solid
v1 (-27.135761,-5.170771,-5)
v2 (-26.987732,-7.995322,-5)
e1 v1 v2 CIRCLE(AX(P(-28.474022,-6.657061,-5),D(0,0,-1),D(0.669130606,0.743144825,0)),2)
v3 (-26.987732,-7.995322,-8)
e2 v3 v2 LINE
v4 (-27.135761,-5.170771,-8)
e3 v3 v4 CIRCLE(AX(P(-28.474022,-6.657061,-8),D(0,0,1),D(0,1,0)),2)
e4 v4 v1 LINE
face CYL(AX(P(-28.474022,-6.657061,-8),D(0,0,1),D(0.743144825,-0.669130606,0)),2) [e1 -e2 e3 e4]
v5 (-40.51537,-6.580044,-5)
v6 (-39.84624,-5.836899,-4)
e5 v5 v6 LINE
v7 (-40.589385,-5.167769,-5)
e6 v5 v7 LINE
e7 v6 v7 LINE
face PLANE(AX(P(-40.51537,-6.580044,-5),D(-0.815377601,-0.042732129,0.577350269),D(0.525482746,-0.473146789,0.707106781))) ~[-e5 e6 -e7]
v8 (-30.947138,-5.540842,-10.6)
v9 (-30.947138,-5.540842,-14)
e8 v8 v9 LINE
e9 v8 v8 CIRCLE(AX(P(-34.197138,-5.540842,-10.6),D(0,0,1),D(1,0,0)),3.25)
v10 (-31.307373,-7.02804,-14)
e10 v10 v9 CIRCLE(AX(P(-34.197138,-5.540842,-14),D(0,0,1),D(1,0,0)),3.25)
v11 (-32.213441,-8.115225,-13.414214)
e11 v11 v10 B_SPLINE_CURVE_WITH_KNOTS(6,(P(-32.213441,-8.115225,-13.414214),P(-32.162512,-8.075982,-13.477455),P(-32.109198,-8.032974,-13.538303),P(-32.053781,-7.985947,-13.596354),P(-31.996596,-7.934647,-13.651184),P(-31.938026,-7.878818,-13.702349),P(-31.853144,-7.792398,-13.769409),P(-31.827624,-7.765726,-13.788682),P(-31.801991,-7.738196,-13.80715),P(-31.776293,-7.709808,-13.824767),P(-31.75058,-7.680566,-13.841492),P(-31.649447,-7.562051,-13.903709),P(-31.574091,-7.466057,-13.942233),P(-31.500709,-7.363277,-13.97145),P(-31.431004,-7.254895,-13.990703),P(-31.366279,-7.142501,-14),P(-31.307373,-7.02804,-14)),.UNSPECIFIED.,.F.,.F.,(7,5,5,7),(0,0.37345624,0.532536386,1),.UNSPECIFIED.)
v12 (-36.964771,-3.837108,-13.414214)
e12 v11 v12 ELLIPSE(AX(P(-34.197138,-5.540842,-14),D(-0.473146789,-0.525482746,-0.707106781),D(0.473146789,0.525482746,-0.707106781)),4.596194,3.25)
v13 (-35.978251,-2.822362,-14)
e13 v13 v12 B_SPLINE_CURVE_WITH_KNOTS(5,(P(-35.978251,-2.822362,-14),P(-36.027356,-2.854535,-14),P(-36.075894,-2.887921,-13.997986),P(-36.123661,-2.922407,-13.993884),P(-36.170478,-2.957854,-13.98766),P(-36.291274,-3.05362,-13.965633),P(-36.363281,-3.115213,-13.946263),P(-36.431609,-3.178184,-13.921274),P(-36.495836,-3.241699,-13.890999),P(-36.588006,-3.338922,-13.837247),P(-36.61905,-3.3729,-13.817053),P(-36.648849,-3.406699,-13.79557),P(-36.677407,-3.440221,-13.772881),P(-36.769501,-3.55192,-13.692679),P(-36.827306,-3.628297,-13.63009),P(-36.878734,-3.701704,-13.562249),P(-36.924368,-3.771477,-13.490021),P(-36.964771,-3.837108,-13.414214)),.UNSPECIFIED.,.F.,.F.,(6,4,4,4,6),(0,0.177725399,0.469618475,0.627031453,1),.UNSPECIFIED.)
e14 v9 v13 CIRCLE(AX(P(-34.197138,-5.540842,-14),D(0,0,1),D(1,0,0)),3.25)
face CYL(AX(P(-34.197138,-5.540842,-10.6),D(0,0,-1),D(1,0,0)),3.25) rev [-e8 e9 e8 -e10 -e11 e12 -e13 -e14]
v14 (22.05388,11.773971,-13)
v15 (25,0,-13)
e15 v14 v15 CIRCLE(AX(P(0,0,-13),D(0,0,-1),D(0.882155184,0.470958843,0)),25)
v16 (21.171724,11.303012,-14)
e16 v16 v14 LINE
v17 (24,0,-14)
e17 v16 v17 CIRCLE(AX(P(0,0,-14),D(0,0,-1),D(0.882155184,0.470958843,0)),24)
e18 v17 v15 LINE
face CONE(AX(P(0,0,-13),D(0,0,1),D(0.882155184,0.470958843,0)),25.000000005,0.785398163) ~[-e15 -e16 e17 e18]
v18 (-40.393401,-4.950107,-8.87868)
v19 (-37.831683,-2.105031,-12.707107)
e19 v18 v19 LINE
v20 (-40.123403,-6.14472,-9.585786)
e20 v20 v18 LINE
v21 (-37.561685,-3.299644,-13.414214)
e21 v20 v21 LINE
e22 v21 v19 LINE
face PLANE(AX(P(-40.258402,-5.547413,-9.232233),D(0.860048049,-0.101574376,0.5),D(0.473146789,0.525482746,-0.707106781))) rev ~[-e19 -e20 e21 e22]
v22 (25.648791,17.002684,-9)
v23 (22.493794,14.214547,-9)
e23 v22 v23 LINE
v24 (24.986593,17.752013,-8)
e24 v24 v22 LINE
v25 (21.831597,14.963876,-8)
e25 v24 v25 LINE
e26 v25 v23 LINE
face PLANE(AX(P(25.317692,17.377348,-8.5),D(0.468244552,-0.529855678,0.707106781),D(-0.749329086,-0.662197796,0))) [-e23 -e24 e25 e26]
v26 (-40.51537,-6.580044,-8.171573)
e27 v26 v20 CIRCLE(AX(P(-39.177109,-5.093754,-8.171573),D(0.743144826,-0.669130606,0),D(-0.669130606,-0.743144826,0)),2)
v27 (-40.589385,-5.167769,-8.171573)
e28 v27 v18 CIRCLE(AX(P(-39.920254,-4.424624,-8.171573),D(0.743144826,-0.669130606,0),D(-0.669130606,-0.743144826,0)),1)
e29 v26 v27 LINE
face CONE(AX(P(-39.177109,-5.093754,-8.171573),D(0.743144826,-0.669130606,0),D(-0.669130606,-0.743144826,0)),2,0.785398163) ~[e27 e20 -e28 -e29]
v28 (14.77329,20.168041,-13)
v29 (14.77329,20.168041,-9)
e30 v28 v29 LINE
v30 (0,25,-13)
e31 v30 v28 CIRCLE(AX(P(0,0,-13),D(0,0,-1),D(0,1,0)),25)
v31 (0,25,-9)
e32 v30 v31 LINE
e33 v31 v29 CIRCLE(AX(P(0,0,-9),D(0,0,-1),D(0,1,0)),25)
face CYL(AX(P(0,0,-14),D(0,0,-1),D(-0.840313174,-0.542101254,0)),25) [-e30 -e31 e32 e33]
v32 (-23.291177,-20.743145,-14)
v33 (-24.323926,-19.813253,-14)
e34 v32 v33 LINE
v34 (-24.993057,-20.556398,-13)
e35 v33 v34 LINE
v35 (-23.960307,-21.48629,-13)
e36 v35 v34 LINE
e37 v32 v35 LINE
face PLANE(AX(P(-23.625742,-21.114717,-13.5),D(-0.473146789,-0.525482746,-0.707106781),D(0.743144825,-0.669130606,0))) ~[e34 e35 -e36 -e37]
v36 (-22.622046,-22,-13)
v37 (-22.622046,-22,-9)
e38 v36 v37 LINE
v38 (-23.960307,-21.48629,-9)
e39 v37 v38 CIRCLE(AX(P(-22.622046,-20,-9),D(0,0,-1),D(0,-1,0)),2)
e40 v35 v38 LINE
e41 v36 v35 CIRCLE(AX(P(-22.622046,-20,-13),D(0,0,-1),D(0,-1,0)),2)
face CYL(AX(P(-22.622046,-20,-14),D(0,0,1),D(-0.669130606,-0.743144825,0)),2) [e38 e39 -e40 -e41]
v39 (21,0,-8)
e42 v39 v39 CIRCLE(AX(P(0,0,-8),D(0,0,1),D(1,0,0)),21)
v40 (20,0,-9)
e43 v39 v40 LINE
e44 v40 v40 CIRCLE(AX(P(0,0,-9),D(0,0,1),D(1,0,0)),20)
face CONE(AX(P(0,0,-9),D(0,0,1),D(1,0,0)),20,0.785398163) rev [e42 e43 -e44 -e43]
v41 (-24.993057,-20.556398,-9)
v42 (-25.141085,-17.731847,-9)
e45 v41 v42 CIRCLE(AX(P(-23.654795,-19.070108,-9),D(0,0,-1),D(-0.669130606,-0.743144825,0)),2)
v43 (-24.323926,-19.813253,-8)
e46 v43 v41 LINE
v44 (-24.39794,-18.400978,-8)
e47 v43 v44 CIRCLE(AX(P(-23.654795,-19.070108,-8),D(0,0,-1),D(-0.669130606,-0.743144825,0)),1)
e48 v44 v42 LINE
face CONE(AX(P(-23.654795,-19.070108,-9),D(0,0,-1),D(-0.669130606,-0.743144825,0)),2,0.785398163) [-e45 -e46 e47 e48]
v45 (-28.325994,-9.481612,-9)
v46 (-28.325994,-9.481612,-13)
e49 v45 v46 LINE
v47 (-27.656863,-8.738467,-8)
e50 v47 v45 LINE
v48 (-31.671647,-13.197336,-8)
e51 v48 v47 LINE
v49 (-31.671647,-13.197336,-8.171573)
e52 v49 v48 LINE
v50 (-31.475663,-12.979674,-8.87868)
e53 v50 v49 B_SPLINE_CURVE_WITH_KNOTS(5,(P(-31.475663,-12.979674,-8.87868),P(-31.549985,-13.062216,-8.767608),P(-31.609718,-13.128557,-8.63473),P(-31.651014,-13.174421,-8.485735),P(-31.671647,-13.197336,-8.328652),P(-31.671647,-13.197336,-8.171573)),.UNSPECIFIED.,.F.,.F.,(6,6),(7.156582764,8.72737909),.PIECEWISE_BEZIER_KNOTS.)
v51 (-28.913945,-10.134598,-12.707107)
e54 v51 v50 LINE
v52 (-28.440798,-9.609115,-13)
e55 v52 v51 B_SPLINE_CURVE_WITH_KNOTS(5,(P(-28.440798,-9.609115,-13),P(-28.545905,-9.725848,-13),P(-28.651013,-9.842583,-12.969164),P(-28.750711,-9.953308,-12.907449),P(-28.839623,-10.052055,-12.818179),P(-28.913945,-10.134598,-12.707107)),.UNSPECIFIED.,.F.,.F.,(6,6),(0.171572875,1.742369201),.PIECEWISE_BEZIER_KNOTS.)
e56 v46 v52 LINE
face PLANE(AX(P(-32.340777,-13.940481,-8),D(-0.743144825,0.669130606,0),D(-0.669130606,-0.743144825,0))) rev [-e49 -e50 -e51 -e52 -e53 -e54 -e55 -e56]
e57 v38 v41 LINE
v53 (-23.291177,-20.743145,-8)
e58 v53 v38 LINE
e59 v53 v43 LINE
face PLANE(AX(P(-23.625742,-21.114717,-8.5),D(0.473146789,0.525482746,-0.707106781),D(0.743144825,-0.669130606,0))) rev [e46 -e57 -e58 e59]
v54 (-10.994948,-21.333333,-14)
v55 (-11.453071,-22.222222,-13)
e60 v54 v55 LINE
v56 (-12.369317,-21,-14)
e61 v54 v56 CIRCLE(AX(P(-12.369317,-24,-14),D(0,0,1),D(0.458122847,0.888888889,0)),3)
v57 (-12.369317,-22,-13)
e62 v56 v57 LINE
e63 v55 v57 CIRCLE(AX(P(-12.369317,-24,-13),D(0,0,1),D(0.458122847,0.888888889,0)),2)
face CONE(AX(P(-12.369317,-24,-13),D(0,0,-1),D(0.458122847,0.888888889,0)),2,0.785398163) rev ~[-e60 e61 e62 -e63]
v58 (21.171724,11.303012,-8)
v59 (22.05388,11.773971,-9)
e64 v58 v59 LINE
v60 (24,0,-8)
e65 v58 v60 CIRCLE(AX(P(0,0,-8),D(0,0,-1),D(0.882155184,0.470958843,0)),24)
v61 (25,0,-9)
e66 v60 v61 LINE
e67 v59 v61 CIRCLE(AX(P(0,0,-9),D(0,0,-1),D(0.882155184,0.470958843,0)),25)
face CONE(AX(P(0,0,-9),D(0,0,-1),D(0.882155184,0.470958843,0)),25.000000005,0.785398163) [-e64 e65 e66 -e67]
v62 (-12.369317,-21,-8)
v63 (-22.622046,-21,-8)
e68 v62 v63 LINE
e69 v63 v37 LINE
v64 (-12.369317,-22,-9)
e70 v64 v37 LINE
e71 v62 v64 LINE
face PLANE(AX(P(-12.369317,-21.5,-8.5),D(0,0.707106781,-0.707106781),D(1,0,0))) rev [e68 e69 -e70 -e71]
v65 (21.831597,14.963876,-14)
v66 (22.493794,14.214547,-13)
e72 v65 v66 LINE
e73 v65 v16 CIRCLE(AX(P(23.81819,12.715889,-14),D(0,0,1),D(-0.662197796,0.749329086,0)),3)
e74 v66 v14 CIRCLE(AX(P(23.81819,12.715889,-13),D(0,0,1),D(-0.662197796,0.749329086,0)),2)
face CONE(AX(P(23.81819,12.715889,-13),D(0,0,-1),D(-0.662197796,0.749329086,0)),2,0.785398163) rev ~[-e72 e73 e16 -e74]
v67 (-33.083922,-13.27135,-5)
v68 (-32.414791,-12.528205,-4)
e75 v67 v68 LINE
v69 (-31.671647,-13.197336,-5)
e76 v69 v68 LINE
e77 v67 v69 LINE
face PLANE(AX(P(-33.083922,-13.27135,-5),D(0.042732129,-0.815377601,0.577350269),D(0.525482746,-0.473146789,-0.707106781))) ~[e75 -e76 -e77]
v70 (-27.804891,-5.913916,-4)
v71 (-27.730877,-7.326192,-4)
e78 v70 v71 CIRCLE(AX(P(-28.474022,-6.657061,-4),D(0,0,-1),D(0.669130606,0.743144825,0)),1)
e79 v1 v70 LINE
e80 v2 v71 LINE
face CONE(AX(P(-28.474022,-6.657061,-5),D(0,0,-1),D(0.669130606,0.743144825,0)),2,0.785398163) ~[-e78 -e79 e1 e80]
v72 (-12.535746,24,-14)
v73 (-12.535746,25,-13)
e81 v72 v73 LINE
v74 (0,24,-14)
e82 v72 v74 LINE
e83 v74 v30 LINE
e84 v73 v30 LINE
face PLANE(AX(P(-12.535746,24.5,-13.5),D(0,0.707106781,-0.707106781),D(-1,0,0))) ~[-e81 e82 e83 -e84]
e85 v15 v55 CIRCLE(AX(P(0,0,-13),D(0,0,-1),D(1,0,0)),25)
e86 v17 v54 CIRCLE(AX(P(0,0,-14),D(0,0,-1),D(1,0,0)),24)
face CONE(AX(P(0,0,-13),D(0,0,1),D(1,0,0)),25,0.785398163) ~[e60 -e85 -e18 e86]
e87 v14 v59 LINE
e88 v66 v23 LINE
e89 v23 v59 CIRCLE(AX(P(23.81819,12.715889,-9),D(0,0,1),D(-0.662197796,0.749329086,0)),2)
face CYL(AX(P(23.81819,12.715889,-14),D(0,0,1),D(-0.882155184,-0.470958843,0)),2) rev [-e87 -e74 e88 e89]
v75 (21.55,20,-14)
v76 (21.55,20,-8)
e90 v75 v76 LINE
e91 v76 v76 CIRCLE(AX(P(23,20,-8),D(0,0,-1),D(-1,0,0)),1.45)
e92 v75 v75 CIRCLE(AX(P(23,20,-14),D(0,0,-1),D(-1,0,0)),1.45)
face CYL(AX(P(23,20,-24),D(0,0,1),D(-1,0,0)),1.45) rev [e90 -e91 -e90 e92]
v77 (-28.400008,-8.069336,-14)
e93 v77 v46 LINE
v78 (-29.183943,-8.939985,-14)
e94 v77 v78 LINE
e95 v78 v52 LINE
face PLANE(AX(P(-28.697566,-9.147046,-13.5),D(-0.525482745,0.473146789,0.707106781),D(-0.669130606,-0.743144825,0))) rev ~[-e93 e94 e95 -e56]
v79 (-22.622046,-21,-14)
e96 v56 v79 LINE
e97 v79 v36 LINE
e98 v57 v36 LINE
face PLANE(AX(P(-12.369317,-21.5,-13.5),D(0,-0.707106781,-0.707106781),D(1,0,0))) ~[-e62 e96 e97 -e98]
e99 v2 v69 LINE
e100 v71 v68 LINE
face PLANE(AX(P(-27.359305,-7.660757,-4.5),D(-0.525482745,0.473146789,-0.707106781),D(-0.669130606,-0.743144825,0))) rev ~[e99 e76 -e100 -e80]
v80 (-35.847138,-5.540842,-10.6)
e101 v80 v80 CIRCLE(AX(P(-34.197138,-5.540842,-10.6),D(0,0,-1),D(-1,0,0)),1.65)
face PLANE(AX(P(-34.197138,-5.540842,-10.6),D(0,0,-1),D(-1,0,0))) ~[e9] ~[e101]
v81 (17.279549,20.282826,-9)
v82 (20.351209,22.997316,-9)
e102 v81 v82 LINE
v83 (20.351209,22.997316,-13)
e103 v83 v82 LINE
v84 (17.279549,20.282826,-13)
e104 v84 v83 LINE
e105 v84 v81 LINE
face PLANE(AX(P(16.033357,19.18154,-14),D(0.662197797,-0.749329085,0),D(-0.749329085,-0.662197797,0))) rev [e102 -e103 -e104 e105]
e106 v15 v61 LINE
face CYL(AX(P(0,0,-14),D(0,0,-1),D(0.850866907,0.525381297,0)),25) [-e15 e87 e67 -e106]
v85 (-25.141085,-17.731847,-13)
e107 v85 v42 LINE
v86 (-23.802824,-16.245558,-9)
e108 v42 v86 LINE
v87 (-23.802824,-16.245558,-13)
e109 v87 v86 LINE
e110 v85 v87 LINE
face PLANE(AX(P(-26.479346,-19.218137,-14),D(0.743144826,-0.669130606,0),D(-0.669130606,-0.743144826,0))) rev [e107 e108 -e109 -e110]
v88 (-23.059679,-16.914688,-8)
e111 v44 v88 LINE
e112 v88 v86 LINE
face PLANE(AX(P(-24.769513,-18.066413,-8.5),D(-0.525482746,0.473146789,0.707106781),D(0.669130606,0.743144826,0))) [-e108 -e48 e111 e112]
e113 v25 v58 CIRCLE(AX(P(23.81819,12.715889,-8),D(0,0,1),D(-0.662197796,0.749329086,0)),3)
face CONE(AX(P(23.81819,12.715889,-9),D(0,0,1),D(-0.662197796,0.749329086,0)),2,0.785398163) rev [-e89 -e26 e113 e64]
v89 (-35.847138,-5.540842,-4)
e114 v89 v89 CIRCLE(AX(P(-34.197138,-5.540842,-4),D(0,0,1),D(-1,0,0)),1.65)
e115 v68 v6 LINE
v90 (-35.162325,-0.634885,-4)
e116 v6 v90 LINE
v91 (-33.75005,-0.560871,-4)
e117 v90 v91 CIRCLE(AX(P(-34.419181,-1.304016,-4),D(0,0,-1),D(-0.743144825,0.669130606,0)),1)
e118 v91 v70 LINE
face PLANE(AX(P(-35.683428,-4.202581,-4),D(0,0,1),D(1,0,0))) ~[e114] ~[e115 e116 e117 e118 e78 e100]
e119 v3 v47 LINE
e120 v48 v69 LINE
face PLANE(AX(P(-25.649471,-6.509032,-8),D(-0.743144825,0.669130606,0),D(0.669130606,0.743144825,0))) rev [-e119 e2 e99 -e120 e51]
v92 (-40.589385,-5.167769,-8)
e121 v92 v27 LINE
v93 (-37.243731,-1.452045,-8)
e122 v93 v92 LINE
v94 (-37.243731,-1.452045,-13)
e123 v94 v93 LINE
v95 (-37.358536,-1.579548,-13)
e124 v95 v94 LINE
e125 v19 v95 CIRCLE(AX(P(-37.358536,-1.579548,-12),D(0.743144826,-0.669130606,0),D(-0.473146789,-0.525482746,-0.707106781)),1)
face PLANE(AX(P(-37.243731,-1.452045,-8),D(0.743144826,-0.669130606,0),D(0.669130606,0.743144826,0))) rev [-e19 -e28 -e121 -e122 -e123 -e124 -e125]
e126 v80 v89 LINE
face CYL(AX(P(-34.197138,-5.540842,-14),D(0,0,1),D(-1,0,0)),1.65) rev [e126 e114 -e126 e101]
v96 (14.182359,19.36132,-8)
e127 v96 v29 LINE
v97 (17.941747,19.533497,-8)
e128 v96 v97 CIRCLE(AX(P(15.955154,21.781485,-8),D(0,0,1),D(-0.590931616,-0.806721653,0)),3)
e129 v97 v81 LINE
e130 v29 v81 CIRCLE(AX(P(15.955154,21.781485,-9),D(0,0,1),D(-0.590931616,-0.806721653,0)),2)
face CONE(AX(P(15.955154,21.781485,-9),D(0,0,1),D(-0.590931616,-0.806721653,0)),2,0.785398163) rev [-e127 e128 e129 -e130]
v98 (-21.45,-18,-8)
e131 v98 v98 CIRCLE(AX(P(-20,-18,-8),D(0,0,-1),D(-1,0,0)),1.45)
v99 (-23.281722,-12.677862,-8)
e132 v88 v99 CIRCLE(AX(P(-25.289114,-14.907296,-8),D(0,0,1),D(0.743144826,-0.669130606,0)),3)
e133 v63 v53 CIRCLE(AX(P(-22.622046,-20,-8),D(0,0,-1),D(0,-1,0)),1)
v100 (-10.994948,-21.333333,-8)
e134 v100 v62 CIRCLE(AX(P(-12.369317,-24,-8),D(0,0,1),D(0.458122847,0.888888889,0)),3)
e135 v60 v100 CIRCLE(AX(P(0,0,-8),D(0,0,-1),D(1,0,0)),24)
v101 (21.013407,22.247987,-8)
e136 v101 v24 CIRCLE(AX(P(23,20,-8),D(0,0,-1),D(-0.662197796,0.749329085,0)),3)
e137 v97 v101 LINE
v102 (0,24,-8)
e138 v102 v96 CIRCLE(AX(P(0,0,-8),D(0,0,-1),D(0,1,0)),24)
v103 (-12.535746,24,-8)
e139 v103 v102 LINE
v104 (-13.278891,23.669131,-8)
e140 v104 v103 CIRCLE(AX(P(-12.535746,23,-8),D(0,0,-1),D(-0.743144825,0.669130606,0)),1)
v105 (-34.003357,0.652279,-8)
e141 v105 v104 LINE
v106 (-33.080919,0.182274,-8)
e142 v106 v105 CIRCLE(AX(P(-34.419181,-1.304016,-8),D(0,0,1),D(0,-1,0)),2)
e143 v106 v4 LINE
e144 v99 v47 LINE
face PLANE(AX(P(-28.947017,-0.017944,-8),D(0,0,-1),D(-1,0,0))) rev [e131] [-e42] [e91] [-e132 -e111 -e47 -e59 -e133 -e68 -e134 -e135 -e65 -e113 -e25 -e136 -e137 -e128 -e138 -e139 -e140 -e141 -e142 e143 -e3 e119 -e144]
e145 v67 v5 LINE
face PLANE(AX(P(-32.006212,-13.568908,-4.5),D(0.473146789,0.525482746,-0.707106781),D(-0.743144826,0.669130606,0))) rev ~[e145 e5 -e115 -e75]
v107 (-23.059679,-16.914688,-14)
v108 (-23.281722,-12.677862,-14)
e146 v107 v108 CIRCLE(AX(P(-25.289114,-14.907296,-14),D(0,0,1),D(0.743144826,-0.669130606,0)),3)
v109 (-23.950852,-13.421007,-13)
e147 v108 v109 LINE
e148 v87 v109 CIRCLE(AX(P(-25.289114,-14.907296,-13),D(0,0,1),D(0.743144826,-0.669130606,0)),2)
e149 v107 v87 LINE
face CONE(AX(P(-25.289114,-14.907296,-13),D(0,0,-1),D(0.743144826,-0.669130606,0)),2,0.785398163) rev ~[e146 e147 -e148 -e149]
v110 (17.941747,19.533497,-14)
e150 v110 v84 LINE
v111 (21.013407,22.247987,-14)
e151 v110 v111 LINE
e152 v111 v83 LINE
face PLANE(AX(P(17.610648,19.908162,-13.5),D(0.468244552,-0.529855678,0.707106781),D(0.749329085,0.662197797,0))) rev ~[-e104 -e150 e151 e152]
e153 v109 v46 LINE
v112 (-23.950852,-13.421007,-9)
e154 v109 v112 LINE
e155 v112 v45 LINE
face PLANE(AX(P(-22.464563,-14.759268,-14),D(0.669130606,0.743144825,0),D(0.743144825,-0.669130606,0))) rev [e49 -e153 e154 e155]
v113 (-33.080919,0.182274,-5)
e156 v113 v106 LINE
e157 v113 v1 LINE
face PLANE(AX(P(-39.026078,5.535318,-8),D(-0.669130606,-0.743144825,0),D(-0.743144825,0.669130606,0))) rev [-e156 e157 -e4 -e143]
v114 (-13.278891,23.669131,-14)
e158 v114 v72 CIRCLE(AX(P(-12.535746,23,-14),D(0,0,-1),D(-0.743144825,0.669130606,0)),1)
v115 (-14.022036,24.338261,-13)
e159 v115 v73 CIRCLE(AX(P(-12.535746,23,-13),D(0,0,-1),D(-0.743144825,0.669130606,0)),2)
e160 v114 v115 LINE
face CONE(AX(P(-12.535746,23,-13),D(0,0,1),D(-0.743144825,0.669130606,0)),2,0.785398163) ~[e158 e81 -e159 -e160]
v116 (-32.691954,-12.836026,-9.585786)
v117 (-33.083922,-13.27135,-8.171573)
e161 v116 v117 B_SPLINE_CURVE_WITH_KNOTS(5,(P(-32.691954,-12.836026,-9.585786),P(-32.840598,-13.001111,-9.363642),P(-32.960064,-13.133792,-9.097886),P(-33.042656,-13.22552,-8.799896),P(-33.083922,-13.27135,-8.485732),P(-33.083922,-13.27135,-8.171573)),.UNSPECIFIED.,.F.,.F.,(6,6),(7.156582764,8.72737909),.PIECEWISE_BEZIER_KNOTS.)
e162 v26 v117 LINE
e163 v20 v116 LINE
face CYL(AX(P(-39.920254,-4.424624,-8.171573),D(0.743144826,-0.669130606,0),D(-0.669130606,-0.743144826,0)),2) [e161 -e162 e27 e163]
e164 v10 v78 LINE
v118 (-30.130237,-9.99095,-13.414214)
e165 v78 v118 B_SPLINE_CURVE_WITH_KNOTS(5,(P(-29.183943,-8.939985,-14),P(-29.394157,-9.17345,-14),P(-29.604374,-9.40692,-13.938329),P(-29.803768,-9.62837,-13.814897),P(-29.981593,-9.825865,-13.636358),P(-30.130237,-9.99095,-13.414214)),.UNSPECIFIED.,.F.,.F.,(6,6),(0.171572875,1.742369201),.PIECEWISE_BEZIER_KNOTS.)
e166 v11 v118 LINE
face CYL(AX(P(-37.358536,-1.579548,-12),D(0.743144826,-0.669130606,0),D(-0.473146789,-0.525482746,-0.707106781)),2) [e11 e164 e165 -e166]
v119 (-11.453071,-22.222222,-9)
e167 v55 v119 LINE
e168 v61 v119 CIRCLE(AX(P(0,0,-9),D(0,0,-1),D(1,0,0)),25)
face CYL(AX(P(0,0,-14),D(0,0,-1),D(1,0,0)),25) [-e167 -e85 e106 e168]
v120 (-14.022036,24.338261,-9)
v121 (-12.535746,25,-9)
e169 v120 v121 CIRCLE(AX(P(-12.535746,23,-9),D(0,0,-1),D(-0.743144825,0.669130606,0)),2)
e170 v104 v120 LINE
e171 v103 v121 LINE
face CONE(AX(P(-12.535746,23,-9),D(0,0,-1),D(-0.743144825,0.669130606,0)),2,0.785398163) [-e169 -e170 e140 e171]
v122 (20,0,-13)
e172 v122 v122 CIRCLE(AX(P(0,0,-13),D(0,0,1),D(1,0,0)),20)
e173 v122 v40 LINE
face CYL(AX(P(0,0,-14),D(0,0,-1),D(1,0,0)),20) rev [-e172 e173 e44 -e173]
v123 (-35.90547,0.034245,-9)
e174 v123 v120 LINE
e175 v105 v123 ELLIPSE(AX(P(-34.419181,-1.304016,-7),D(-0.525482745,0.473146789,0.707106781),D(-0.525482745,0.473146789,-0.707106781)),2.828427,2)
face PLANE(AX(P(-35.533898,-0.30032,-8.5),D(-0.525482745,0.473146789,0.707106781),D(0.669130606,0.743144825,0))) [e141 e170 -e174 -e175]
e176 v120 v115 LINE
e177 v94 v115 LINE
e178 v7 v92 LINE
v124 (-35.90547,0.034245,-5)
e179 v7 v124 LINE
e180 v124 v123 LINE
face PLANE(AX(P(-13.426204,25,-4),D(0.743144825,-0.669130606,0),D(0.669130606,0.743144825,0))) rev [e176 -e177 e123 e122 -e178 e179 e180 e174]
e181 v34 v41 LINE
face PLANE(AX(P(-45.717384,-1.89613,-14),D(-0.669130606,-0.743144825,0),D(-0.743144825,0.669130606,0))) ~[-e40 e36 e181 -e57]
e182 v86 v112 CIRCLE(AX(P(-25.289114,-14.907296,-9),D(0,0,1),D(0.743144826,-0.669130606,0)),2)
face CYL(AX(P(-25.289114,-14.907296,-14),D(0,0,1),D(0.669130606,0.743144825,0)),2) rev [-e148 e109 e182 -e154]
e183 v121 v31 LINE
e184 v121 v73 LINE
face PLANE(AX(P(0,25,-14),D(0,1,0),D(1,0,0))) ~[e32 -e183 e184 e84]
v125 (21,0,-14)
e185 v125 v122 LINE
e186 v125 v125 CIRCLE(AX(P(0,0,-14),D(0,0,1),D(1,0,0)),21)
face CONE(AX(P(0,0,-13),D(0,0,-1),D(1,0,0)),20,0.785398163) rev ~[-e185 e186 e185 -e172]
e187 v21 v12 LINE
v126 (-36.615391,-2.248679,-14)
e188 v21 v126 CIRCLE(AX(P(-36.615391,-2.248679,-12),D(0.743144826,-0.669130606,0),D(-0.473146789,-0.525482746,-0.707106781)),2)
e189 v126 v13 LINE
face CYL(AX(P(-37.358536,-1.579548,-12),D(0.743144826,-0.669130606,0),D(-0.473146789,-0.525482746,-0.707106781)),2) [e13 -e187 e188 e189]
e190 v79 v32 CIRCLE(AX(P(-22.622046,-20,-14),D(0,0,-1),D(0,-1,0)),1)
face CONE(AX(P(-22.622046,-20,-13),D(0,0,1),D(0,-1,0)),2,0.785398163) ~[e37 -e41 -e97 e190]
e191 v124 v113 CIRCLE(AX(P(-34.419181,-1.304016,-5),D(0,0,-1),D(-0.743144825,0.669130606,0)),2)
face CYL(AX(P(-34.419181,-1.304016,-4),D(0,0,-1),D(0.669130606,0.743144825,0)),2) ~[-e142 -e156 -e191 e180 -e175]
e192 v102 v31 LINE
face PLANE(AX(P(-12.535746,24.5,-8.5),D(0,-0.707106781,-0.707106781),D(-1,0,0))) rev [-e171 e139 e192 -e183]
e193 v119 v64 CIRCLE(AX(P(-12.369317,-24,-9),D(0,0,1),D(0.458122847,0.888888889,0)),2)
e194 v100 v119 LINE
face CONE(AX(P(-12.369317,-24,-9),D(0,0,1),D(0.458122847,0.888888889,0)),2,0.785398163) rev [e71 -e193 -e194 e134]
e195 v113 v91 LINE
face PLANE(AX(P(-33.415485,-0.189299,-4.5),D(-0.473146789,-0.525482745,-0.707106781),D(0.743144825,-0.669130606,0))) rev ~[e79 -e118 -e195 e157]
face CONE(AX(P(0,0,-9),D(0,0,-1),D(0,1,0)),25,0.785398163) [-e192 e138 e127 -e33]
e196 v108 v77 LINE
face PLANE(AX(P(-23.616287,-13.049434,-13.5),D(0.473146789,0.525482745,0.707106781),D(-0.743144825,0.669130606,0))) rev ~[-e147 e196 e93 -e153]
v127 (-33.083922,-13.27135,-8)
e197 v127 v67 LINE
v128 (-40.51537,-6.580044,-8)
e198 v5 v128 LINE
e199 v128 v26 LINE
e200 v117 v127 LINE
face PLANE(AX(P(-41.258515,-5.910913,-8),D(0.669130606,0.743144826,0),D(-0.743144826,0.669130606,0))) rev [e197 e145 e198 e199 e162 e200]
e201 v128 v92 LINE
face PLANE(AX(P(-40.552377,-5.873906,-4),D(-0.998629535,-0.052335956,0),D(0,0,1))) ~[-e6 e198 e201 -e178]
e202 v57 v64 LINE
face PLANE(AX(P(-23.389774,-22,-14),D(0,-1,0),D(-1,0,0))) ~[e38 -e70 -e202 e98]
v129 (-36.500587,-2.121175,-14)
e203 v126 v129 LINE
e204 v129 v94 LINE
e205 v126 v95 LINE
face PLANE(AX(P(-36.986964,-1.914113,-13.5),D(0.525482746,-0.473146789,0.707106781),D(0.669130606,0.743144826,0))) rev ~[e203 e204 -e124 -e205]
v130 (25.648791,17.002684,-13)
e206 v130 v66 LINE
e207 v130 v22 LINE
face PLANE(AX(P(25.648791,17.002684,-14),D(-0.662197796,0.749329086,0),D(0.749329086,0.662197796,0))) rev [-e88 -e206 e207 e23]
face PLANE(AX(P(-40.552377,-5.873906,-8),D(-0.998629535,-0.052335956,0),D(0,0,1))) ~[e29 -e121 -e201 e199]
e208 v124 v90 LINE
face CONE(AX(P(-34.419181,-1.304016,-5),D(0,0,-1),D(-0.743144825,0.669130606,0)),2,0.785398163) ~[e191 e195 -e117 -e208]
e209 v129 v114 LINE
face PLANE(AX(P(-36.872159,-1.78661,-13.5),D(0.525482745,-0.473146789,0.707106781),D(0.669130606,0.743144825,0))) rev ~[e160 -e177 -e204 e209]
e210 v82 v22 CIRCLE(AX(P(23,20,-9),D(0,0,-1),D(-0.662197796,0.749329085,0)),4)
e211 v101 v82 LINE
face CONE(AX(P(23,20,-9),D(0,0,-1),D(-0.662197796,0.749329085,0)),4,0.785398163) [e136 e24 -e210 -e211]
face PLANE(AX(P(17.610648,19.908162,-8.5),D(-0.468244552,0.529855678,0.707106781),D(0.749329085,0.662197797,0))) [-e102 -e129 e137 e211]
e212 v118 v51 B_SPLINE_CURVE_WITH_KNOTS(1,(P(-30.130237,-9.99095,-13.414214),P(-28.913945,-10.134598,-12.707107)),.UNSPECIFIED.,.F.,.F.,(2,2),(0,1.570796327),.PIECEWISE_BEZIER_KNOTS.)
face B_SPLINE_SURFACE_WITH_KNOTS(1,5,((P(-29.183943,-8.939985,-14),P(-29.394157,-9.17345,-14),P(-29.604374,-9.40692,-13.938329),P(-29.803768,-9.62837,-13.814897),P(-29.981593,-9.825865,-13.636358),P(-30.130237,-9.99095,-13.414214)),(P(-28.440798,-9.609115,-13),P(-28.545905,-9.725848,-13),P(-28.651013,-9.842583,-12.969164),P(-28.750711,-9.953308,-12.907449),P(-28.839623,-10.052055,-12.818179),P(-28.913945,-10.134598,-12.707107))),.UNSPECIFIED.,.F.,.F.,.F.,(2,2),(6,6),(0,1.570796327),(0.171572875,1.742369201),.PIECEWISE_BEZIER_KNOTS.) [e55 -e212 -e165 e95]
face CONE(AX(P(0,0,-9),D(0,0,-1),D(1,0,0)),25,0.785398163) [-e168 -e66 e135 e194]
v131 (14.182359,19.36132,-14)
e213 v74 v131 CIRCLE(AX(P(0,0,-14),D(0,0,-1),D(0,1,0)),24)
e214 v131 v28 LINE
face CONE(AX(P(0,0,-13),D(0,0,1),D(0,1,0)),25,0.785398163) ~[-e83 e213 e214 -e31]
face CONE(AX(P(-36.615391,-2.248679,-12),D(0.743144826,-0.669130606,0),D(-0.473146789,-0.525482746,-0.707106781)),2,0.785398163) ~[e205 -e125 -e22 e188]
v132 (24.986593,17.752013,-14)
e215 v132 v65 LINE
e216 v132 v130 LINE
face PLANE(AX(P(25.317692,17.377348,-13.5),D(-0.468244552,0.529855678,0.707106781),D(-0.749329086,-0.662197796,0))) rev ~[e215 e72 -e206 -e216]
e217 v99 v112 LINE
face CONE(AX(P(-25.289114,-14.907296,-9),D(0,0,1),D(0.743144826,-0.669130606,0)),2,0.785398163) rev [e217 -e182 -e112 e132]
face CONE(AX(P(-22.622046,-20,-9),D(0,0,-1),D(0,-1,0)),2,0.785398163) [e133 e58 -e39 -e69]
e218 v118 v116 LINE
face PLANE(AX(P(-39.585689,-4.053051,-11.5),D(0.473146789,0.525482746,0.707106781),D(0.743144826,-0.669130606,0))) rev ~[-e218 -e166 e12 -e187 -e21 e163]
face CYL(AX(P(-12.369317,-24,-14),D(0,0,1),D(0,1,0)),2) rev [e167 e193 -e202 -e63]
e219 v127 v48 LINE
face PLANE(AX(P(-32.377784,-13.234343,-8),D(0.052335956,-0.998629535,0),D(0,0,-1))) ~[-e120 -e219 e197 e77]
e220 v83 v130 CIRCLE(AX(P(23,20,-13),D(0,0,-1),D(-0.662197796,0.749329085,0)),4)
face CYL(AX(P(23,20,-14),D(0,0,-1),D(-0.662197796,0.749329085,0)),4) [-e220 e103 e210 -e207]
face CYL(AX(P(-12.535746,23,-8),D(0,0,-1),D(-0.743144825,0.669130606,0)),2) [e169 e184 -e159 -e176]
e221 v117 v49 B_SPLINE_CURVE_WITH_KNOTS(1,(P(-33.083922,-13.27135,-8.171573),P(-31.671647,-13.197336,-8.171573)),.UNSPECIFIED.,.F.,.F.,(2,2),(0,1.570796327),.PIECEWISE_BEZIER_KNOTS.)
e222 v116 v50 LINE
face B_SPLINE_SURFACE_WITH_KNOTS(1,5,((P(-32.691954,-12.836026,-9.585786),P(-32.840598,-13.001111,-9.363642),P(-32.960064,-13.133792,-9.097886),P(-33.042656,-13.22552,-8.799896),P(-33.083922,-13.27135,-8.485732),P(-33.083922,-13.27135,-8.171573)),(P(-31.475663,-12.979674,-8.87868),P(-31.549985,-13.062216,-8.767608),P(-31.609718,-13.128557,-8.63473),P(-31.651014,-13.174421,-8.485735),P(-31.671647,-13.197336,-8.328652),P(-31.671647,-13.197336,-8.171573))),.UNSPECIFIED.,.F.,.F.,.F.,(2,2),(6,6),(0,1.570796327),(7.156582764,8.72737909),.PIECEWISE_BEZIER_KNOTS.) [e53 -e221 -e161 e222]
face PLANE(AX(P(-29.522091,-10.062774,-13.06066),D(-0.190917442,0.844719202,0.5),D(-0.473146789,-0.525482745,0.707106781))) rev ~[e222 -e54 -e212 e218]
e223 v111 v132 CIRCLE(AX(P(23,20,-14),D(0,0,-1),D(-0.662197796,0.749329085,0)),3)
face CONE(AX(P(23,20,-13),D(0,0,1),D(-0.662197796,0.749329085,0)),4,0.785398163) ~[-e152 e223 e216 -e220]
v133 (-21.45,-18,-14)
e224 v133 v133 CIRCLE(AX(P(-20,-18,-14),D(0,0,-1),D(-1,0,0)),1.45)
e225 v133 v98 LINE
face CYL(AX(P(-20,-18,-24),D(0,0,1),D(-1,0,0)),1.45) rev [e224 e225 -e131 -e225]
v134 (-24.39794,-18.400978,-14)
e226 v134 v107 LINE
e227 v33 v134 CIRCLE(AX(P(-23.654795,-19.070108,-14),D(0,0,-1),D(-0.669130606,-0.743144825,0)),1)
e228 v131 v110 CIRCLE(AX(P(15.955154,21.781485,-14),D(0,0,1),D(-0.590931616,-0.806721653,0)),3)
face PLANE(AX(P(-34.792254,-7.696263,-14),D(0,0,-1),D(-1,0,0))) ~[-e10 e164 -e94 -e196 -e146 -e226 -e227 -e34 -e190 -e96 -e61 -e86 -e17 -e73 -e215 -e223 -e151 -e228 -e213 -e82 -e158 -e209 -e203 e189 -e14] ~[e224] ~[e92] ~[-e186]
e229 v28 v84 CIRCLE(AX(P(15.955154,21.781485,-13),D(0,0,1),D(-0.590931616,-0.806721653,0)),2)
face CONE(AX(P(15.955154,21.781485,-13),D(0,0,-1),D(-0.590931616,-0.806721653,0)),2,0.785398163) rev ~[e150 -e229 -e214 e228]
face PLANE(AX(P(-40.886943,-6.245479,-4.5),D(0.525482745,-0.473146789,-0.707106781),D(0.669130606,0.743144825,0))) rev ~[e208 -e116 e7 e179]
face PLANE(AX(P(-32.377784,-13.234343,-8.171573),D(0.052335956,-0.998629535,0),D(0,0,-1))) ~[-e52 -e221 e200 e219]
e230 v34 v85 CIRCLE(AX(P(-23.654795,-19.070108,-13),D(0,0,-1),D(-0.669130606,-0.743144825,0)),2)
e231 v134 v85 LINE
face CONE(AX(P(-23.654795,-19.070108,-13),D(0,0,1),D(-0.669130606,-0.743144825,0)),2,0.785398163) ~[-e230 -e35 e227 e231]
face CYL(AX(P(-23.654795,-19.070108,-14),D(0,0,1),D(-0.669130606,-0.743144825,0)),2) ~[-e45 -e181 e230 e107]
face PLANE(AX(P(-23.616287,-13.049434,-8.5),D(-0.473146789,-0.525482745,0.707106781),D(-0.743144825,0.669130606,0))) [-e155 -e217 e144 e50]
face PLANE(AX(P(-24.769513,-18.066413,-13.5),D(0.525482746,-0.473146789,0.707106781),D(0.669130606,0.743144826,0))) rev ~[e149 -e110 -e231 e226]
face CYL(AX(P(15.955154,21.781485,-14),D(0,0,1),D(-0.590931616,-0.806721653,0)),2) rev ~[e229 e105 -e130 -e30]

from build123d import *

# Parameters (mm, degrees)
SKETCH_1_W                   = 60
SKETCH_1_H                   = 55
EXTRUDE_1_DEPTH              = 6
HOLE_WIZARD_M4_1_D           = 2.9
HOLE_WIZARD_M4_1_DEPTH       = 10
SKETCH_5_R                   = 20
CUT_EXTRUDE_1_DEPTH          = 7
SKETCH_6_W                   = 60
SKETCH_6_H                   = 55
CUT_EXTRUDE_2_DEPTH          = 7
EXTRUDE_2_DEPTH              = 6
EXTRUDE_3_DEPTH              = 6
EXTRUDE_4_DEPTH              = 4
CUT_EXTRUDE_3_DEPTH          = 11
CUT_EXTRUDE_4_DEPTH          = 6
FILLET_1_R                   = 2
EXTRUDE_5_DEPTH              = 6
CHAMFER_2_SIZE               = 5
FILLET_4_R                   = 2
CHAMFER_3_SIZE               = 1
HOLE_WIZARD_M3_2_D           = 3.3
HOLE_WIZARD_M3_2_DEPTH       = 10
HOLE_WIZARD_M3_2_CBORE_D     = 6.5
HOLE_WIZARD_M3_2_CBORE_DEPTH = 3.4
HOLE_WIZARD_M3_2_TIP         = 0.991420021


with BuildPart() as part:
    # ｽｹｯﾁ1 → ﾎﾞｽ - 押し出し1 (new body)
    with BuildSketch(Plane.XY):
        Rectangle(SKETCH_1_W, SKETCH_1_H)
    extrude(amount=EXTRUDE_1_DEPTH)

    # M4 すきま穴1
    with Locations(Plane.XY.offset(6)):
        with Locations((-20, -18), (23, 20)):
            Hole(HOLE_WIZARD_M4_1_D / 2, depth=HOLE_WIZARD_M4_1_DEPTH)

    # ｽｹｯﾁ5 → ｶｯﾄ - 押し出し1 (cut, through all)
    with BuildSketch(Plane.XY.offset(6)):
        Circle(SKETCH_5_R)
    extrude(amount=-CUT_EXTRUDE_1_DEPTH, mode=Mode.SUBTRACT)

    # ｽｹｯﾁ6 → ｶｯﾄ - 押し出し2 (cut, through all)
    with BuildSketch(Plane.XY.offset(6)):
        Rectangle(SKETCH_6_W, SKETCH_6_H)
        with BuildLine():
            ThreePointArc((-17.351208814, -20.997316342), (-22.997316342, -20.648791186), (-22.648791186, -15.002683658))
            Line((-22.648791186, -15.002683658), (-21.007829355, -13.552531342))
            ThreePointArc((-21.007829355, -13.552531342), (-16.554944912, 18.733227137), (16.03335661, 19.181539975))
            Line((16.03335661, 19.181539975), (20.351208814, 22.997316342))
            ThreePointArc((20.351208814, 22.997316342), (25.997316342, 22.648791186), (25.648791186, 17.002683658))
            Line((25.648791186, 17.002683658), (21.271672672, 13.134532414))
            ThreePointArc((21.271672672, 13.134532414), (24.04986296, 6.826718948), (25, 0))
            ThreePointArc((25, 0), (10.810307191, -22.541900062), (-15.650980674, -19.494789148))
            Line((-15.650980674, -19.494789148), (-17.351208814, -20.997316342))
        make_face(mode=Mode.SUBTRACT)
    extrude(amount=-CUT_EXTRUDE_2_DEPTH, mode=Mode.SUBTRACT)

    # ｽｹｯﾁ7 → ﾎﾞｽ - 押し出し2 (add)
    with BuildSketch(Plane.XY.offset(6)):
        with BuildLine():
            Line((0, 25), (-21.5, 25))
            Line((-21.5, 25), (-21.5, 12.757350822))
            ThreePointArc((-21.5, 12.757350822), (-12.370655388, 21.724798855), (0, 25))
        make_face()
        with BuildLine():
            ThreePointArc((-17.351208814, -20.997316342), (-18.583890076, -21.74094008), (-20, -22))
            Line((-20, -22), (-11.874342087, -22))
            ThreePointArc((-11.874342087, -22), (-13.819546614, -20.833149819), (-15.650980674, -19.494789148))
            Line((-15.650980674, -19.494789148), (-17.351208814, -20.997316342))
        make_face()
        with BuildLine():
            ThreePointArc((-21.007829355, -13.552531342), (-21.25763315, -13.157242601), (-21.5, -12.757350822))
            Line((-21.5, -12.757350822), (-21.5, -13.987472843))
            Line((-21.5, -13.987472843), (-21.007829355, -13.552531342))
        make_face()
    extrude(amount=-EXTRUDE_2_DEPTH)

    # ｽｹｯﾁ8 → ﾎﾞｽ - 押し出し3 (add)
    with BuildSketch(Plane.XY.offset(6)):
        with BuildLine():
            Line((-21.5, 12.757350822), (-21.5, 25))
            Line((-21.5, 25), (-45.717384076, -1.896129831))
            Line((-45.717384076, -1.896129831), (-23.389774269, -22))
            Line((-23.389774269, -22), (-20, -22))
            ThreePointArc((-20, -22), (-23.74094008, -19.416109924), (-22.648791186, -15.002683658))
            Line((-22.648791186, -15.002683658), (-21.5, -13.987472843))
            Line((-21.5, -13.987472843), (-21.5, -12.757350822))
            ThreePointArc((-21.5, -12.757350822), (-25, 0), (-21.5, 12.757350822))
        make_face()
    extrude(amount=-EXTRUDE_3_DEPTH)

    # ｽｹｯﾁ9 → ﾎﾞｽ - 押し出し4 (add)
    with BuildSketch(Plane(origin=(0, 0, 0), x_dir=(-1, 0, 0), z_dir=(0, 0, -1))):
        Polygon((25.649471154, -6.509032491), (32.340777217, -13.940480745), (45.717384076, -1.896129831), (39.026078012, 5.535318424), align=None)
    extrude(amount=EXTRUDE_4_DEPTH)

    # ｽｹｯﾁ10 → ｶｯﾄ - 押し出し3 (cut, through all)
    with BuildSketch(Plane(origin=(0, 0, -4), x_dir=(-1, 0, 0), z_dir=(0, 0, -1))):
        Polygon((39.026078012, 5.535318424), (21.5, 25), (13.426203622, 25), (41.258515123, -5.910913469), (45.717384076, -1.896129831), align=None)
    extrude(amount=-CUT_EXTRUDE_3_DEPTH, mode=Mode.SUBTRACT)

    # ｽｹｯﾁ12 → ｶｯﾄ - 押し出し4 (cut)
    with BuildSketch(Plane.XY.offset(6)):
        Polygon((-41.258515123, -5.910913469), (-26.47934628, -19.218136867), (-22.464562642, -14.759267914), (-37.243731485, -1.452044516), align=None)
    extrude(amount=-CUT_EXTRUDE_4_DEPTH, mode=Mode.SUBTRACT)

    # ﾌｨﾚｯﾄ1
    fillet_1_edges = [part.edges().sort_by_distance(p)[0] for p in [
        (-25.649471154, -6.509032491, -2),
        (-34.567209059, 1.520534786, -2),
        (-26.47934628, -19.218136867, 3),
    ]]
    fillet(fillet_1_edges, radius=FILLET_1_R)

    # ｽｹｯﾁ13 → ﾎﾞｽ - 押し出し5 (add)
    with BuildSketch(Plane.XY):
        Polygon((-32.340777217, -13.940480745), (-28.325993579, -9.481611793), (-37.243731485, -1.452044516), (-41.258515123, -5.910913469), align=None)
    extrude(amount=EXTRUDE_5_DEPTH)

    # 面取り2
    chamfer_2_edges = [part.edges().sort_by_distance(p)[0] for p in [
        (-36.79964617, -9.925697107, 6),
    ]]
    chamfer(chamfer_2_edges, length=CHAMFER_2_SIZE)

    # ﾌｨﾚｯﾄ4
    fillet_4_edges = [part.edges().sort_by_distance(p)[0] for p in [
        (-23.389774269, -22, 3),
        (-13.426203622, 25, 3),
        (-22.464562642, -14.759267914, 3),
        (-33.453993138, -6.20997298, 6),
        (-36.79964617, -9.925697107, 1),
        (21.271672672, 13.134532414, 3),
        (16.03335661, 19.181539975, 3),
        (-11.874342087, -22, 3),
    ]]
    fillet(fillet_4_edges, radius=FILLET_4_R)

    # 面取り3
    chamfer_3_edges = [part.edges().sort_by_distance(p)[0] for p in [
        (-29.664254792, -10.967901443, -4),
        (-32.340777217, -13.940480745, -1.914213562),
        (-36.79964617, -9.925697107, -4),
        (-38.581992697, -2.938334167, -4),
        (-30.108340106, -2.494248852, -4),
        (-34.523852534, 0.693242992, -4),
        (-26.476762948, -6.552389016, -4),
        (-24.471954461, -16.98870239, 6),
        (-24.471954461, -16.98870239, 0),
        (-24.47668202, -21.021343865, 6),
        (-25.652054486, -19.174780341, 6),
        (-25.652054486, -19.174780341, 0),
        (-24.47668202, -21.021343865, 0),
        (-25.690286025, 11.379356601, 6),
        (-28.38339591, -9.54536354, 6),
        (-26.138422936, -11.451309247, 6),
        (-17.495681538, -22, 6),
        (17.805324329, -17.549086174, 6),
        (24.071292776, 15.608615296, 6),
        (18.815379015, 21.640071403, 6),
        (7.771710455, 23.761323966, 6),
        (-13.349219538, 24.827090915, 6),
        (-23.338782098, -21.867160853, 6),
        (-17.495681538, -22, 0),
        (-26.138422936, -11.451309247, 0),
        (-24.963753087, 12.186253174, 0),
        (-6.267873126, 25, 0),
        (7.771710455, 23.761323966, 0),
        (18.815379015, 21.640071403, 0),
        (24.071292776, 15.608615296, 0),
        (17.805324329, -17.549086174, 0),
        (-13.349219538, 24.827090915, 0),
        (-23.338782098, -21.867160853, 0),
        (-41.258515123, -5.910913469, -1.914213562),
        (-39.585688607, -4.053051405, 3.5),
        (-37.870666541, -2.148326436, 5.847759065),
        (-41.156646054, -5.797776406, 0.93693974),
        (-30.667950701, -12.082618682, 3.5),
        (-28.952928635, -10.177893712, 5.847759065),
        (-32.238908148, -13.827343682, 0.93693974),
        (21.8499093, 13.07067214, 0),
        (21.8499093, 13.07067214, 6),
        (16.046656493, 19.783578925, 0),
        (16.046656493, 19.783578925, 6),
        (-11.897912356, -22.056349368, 6),
        (-11.897912356, -22.056349368, 0),
        (-23.291854436, -14.80262444, 6),
        (-23.291854436, -14.80262444, 0),
        (-20, 0, 0),
        (-20, 0, 6),
        (25.997316342, 22.648791186, 0),
        (25.997316342, 22.648791186, 6),
        (-6.267873126, 25, 6),
    ]]
    chamfer(chamfer_3_edges, length=CHAMFER_3_SIZE)

    # M3 六角穴付き頭ねじ用座ぐり穴2
    with Locations(Plane.XY.offset(6)):
        with Locations((-34.197137964, -5.540842373)):
            CounterBoreHole(HOLE_WIZARD_M3_2_D / 2, HOLE_WIZARD_M3_2_CBORE_D / 2, HOLE_WIZARD_M3_2_CBORE_DEPTH, depth=HOLE_WIZARD_M3_2_DEPTH)
            with Locations((0, 0, -(HOLE_WIZARD_M3_2_DEPTH + HOLE_WIZARD_M3_2_TIP / 2))):  # 118° drill point
                Cone(0, HOLE_WIZARD_M3_2_D / 2, HOLE_WIZARD_M3_2_TIP, mode=Mode.SUBTRACT)


with BuildPart() as body_2:
    # ﾐﾗｰ1: mirrored copy
    add(part.part.mirror(Plane(origin=(0, 0, -4), x_dir=(1, 0, 0), z_dir=(0, 0, -1))))


solid = body_2.part
